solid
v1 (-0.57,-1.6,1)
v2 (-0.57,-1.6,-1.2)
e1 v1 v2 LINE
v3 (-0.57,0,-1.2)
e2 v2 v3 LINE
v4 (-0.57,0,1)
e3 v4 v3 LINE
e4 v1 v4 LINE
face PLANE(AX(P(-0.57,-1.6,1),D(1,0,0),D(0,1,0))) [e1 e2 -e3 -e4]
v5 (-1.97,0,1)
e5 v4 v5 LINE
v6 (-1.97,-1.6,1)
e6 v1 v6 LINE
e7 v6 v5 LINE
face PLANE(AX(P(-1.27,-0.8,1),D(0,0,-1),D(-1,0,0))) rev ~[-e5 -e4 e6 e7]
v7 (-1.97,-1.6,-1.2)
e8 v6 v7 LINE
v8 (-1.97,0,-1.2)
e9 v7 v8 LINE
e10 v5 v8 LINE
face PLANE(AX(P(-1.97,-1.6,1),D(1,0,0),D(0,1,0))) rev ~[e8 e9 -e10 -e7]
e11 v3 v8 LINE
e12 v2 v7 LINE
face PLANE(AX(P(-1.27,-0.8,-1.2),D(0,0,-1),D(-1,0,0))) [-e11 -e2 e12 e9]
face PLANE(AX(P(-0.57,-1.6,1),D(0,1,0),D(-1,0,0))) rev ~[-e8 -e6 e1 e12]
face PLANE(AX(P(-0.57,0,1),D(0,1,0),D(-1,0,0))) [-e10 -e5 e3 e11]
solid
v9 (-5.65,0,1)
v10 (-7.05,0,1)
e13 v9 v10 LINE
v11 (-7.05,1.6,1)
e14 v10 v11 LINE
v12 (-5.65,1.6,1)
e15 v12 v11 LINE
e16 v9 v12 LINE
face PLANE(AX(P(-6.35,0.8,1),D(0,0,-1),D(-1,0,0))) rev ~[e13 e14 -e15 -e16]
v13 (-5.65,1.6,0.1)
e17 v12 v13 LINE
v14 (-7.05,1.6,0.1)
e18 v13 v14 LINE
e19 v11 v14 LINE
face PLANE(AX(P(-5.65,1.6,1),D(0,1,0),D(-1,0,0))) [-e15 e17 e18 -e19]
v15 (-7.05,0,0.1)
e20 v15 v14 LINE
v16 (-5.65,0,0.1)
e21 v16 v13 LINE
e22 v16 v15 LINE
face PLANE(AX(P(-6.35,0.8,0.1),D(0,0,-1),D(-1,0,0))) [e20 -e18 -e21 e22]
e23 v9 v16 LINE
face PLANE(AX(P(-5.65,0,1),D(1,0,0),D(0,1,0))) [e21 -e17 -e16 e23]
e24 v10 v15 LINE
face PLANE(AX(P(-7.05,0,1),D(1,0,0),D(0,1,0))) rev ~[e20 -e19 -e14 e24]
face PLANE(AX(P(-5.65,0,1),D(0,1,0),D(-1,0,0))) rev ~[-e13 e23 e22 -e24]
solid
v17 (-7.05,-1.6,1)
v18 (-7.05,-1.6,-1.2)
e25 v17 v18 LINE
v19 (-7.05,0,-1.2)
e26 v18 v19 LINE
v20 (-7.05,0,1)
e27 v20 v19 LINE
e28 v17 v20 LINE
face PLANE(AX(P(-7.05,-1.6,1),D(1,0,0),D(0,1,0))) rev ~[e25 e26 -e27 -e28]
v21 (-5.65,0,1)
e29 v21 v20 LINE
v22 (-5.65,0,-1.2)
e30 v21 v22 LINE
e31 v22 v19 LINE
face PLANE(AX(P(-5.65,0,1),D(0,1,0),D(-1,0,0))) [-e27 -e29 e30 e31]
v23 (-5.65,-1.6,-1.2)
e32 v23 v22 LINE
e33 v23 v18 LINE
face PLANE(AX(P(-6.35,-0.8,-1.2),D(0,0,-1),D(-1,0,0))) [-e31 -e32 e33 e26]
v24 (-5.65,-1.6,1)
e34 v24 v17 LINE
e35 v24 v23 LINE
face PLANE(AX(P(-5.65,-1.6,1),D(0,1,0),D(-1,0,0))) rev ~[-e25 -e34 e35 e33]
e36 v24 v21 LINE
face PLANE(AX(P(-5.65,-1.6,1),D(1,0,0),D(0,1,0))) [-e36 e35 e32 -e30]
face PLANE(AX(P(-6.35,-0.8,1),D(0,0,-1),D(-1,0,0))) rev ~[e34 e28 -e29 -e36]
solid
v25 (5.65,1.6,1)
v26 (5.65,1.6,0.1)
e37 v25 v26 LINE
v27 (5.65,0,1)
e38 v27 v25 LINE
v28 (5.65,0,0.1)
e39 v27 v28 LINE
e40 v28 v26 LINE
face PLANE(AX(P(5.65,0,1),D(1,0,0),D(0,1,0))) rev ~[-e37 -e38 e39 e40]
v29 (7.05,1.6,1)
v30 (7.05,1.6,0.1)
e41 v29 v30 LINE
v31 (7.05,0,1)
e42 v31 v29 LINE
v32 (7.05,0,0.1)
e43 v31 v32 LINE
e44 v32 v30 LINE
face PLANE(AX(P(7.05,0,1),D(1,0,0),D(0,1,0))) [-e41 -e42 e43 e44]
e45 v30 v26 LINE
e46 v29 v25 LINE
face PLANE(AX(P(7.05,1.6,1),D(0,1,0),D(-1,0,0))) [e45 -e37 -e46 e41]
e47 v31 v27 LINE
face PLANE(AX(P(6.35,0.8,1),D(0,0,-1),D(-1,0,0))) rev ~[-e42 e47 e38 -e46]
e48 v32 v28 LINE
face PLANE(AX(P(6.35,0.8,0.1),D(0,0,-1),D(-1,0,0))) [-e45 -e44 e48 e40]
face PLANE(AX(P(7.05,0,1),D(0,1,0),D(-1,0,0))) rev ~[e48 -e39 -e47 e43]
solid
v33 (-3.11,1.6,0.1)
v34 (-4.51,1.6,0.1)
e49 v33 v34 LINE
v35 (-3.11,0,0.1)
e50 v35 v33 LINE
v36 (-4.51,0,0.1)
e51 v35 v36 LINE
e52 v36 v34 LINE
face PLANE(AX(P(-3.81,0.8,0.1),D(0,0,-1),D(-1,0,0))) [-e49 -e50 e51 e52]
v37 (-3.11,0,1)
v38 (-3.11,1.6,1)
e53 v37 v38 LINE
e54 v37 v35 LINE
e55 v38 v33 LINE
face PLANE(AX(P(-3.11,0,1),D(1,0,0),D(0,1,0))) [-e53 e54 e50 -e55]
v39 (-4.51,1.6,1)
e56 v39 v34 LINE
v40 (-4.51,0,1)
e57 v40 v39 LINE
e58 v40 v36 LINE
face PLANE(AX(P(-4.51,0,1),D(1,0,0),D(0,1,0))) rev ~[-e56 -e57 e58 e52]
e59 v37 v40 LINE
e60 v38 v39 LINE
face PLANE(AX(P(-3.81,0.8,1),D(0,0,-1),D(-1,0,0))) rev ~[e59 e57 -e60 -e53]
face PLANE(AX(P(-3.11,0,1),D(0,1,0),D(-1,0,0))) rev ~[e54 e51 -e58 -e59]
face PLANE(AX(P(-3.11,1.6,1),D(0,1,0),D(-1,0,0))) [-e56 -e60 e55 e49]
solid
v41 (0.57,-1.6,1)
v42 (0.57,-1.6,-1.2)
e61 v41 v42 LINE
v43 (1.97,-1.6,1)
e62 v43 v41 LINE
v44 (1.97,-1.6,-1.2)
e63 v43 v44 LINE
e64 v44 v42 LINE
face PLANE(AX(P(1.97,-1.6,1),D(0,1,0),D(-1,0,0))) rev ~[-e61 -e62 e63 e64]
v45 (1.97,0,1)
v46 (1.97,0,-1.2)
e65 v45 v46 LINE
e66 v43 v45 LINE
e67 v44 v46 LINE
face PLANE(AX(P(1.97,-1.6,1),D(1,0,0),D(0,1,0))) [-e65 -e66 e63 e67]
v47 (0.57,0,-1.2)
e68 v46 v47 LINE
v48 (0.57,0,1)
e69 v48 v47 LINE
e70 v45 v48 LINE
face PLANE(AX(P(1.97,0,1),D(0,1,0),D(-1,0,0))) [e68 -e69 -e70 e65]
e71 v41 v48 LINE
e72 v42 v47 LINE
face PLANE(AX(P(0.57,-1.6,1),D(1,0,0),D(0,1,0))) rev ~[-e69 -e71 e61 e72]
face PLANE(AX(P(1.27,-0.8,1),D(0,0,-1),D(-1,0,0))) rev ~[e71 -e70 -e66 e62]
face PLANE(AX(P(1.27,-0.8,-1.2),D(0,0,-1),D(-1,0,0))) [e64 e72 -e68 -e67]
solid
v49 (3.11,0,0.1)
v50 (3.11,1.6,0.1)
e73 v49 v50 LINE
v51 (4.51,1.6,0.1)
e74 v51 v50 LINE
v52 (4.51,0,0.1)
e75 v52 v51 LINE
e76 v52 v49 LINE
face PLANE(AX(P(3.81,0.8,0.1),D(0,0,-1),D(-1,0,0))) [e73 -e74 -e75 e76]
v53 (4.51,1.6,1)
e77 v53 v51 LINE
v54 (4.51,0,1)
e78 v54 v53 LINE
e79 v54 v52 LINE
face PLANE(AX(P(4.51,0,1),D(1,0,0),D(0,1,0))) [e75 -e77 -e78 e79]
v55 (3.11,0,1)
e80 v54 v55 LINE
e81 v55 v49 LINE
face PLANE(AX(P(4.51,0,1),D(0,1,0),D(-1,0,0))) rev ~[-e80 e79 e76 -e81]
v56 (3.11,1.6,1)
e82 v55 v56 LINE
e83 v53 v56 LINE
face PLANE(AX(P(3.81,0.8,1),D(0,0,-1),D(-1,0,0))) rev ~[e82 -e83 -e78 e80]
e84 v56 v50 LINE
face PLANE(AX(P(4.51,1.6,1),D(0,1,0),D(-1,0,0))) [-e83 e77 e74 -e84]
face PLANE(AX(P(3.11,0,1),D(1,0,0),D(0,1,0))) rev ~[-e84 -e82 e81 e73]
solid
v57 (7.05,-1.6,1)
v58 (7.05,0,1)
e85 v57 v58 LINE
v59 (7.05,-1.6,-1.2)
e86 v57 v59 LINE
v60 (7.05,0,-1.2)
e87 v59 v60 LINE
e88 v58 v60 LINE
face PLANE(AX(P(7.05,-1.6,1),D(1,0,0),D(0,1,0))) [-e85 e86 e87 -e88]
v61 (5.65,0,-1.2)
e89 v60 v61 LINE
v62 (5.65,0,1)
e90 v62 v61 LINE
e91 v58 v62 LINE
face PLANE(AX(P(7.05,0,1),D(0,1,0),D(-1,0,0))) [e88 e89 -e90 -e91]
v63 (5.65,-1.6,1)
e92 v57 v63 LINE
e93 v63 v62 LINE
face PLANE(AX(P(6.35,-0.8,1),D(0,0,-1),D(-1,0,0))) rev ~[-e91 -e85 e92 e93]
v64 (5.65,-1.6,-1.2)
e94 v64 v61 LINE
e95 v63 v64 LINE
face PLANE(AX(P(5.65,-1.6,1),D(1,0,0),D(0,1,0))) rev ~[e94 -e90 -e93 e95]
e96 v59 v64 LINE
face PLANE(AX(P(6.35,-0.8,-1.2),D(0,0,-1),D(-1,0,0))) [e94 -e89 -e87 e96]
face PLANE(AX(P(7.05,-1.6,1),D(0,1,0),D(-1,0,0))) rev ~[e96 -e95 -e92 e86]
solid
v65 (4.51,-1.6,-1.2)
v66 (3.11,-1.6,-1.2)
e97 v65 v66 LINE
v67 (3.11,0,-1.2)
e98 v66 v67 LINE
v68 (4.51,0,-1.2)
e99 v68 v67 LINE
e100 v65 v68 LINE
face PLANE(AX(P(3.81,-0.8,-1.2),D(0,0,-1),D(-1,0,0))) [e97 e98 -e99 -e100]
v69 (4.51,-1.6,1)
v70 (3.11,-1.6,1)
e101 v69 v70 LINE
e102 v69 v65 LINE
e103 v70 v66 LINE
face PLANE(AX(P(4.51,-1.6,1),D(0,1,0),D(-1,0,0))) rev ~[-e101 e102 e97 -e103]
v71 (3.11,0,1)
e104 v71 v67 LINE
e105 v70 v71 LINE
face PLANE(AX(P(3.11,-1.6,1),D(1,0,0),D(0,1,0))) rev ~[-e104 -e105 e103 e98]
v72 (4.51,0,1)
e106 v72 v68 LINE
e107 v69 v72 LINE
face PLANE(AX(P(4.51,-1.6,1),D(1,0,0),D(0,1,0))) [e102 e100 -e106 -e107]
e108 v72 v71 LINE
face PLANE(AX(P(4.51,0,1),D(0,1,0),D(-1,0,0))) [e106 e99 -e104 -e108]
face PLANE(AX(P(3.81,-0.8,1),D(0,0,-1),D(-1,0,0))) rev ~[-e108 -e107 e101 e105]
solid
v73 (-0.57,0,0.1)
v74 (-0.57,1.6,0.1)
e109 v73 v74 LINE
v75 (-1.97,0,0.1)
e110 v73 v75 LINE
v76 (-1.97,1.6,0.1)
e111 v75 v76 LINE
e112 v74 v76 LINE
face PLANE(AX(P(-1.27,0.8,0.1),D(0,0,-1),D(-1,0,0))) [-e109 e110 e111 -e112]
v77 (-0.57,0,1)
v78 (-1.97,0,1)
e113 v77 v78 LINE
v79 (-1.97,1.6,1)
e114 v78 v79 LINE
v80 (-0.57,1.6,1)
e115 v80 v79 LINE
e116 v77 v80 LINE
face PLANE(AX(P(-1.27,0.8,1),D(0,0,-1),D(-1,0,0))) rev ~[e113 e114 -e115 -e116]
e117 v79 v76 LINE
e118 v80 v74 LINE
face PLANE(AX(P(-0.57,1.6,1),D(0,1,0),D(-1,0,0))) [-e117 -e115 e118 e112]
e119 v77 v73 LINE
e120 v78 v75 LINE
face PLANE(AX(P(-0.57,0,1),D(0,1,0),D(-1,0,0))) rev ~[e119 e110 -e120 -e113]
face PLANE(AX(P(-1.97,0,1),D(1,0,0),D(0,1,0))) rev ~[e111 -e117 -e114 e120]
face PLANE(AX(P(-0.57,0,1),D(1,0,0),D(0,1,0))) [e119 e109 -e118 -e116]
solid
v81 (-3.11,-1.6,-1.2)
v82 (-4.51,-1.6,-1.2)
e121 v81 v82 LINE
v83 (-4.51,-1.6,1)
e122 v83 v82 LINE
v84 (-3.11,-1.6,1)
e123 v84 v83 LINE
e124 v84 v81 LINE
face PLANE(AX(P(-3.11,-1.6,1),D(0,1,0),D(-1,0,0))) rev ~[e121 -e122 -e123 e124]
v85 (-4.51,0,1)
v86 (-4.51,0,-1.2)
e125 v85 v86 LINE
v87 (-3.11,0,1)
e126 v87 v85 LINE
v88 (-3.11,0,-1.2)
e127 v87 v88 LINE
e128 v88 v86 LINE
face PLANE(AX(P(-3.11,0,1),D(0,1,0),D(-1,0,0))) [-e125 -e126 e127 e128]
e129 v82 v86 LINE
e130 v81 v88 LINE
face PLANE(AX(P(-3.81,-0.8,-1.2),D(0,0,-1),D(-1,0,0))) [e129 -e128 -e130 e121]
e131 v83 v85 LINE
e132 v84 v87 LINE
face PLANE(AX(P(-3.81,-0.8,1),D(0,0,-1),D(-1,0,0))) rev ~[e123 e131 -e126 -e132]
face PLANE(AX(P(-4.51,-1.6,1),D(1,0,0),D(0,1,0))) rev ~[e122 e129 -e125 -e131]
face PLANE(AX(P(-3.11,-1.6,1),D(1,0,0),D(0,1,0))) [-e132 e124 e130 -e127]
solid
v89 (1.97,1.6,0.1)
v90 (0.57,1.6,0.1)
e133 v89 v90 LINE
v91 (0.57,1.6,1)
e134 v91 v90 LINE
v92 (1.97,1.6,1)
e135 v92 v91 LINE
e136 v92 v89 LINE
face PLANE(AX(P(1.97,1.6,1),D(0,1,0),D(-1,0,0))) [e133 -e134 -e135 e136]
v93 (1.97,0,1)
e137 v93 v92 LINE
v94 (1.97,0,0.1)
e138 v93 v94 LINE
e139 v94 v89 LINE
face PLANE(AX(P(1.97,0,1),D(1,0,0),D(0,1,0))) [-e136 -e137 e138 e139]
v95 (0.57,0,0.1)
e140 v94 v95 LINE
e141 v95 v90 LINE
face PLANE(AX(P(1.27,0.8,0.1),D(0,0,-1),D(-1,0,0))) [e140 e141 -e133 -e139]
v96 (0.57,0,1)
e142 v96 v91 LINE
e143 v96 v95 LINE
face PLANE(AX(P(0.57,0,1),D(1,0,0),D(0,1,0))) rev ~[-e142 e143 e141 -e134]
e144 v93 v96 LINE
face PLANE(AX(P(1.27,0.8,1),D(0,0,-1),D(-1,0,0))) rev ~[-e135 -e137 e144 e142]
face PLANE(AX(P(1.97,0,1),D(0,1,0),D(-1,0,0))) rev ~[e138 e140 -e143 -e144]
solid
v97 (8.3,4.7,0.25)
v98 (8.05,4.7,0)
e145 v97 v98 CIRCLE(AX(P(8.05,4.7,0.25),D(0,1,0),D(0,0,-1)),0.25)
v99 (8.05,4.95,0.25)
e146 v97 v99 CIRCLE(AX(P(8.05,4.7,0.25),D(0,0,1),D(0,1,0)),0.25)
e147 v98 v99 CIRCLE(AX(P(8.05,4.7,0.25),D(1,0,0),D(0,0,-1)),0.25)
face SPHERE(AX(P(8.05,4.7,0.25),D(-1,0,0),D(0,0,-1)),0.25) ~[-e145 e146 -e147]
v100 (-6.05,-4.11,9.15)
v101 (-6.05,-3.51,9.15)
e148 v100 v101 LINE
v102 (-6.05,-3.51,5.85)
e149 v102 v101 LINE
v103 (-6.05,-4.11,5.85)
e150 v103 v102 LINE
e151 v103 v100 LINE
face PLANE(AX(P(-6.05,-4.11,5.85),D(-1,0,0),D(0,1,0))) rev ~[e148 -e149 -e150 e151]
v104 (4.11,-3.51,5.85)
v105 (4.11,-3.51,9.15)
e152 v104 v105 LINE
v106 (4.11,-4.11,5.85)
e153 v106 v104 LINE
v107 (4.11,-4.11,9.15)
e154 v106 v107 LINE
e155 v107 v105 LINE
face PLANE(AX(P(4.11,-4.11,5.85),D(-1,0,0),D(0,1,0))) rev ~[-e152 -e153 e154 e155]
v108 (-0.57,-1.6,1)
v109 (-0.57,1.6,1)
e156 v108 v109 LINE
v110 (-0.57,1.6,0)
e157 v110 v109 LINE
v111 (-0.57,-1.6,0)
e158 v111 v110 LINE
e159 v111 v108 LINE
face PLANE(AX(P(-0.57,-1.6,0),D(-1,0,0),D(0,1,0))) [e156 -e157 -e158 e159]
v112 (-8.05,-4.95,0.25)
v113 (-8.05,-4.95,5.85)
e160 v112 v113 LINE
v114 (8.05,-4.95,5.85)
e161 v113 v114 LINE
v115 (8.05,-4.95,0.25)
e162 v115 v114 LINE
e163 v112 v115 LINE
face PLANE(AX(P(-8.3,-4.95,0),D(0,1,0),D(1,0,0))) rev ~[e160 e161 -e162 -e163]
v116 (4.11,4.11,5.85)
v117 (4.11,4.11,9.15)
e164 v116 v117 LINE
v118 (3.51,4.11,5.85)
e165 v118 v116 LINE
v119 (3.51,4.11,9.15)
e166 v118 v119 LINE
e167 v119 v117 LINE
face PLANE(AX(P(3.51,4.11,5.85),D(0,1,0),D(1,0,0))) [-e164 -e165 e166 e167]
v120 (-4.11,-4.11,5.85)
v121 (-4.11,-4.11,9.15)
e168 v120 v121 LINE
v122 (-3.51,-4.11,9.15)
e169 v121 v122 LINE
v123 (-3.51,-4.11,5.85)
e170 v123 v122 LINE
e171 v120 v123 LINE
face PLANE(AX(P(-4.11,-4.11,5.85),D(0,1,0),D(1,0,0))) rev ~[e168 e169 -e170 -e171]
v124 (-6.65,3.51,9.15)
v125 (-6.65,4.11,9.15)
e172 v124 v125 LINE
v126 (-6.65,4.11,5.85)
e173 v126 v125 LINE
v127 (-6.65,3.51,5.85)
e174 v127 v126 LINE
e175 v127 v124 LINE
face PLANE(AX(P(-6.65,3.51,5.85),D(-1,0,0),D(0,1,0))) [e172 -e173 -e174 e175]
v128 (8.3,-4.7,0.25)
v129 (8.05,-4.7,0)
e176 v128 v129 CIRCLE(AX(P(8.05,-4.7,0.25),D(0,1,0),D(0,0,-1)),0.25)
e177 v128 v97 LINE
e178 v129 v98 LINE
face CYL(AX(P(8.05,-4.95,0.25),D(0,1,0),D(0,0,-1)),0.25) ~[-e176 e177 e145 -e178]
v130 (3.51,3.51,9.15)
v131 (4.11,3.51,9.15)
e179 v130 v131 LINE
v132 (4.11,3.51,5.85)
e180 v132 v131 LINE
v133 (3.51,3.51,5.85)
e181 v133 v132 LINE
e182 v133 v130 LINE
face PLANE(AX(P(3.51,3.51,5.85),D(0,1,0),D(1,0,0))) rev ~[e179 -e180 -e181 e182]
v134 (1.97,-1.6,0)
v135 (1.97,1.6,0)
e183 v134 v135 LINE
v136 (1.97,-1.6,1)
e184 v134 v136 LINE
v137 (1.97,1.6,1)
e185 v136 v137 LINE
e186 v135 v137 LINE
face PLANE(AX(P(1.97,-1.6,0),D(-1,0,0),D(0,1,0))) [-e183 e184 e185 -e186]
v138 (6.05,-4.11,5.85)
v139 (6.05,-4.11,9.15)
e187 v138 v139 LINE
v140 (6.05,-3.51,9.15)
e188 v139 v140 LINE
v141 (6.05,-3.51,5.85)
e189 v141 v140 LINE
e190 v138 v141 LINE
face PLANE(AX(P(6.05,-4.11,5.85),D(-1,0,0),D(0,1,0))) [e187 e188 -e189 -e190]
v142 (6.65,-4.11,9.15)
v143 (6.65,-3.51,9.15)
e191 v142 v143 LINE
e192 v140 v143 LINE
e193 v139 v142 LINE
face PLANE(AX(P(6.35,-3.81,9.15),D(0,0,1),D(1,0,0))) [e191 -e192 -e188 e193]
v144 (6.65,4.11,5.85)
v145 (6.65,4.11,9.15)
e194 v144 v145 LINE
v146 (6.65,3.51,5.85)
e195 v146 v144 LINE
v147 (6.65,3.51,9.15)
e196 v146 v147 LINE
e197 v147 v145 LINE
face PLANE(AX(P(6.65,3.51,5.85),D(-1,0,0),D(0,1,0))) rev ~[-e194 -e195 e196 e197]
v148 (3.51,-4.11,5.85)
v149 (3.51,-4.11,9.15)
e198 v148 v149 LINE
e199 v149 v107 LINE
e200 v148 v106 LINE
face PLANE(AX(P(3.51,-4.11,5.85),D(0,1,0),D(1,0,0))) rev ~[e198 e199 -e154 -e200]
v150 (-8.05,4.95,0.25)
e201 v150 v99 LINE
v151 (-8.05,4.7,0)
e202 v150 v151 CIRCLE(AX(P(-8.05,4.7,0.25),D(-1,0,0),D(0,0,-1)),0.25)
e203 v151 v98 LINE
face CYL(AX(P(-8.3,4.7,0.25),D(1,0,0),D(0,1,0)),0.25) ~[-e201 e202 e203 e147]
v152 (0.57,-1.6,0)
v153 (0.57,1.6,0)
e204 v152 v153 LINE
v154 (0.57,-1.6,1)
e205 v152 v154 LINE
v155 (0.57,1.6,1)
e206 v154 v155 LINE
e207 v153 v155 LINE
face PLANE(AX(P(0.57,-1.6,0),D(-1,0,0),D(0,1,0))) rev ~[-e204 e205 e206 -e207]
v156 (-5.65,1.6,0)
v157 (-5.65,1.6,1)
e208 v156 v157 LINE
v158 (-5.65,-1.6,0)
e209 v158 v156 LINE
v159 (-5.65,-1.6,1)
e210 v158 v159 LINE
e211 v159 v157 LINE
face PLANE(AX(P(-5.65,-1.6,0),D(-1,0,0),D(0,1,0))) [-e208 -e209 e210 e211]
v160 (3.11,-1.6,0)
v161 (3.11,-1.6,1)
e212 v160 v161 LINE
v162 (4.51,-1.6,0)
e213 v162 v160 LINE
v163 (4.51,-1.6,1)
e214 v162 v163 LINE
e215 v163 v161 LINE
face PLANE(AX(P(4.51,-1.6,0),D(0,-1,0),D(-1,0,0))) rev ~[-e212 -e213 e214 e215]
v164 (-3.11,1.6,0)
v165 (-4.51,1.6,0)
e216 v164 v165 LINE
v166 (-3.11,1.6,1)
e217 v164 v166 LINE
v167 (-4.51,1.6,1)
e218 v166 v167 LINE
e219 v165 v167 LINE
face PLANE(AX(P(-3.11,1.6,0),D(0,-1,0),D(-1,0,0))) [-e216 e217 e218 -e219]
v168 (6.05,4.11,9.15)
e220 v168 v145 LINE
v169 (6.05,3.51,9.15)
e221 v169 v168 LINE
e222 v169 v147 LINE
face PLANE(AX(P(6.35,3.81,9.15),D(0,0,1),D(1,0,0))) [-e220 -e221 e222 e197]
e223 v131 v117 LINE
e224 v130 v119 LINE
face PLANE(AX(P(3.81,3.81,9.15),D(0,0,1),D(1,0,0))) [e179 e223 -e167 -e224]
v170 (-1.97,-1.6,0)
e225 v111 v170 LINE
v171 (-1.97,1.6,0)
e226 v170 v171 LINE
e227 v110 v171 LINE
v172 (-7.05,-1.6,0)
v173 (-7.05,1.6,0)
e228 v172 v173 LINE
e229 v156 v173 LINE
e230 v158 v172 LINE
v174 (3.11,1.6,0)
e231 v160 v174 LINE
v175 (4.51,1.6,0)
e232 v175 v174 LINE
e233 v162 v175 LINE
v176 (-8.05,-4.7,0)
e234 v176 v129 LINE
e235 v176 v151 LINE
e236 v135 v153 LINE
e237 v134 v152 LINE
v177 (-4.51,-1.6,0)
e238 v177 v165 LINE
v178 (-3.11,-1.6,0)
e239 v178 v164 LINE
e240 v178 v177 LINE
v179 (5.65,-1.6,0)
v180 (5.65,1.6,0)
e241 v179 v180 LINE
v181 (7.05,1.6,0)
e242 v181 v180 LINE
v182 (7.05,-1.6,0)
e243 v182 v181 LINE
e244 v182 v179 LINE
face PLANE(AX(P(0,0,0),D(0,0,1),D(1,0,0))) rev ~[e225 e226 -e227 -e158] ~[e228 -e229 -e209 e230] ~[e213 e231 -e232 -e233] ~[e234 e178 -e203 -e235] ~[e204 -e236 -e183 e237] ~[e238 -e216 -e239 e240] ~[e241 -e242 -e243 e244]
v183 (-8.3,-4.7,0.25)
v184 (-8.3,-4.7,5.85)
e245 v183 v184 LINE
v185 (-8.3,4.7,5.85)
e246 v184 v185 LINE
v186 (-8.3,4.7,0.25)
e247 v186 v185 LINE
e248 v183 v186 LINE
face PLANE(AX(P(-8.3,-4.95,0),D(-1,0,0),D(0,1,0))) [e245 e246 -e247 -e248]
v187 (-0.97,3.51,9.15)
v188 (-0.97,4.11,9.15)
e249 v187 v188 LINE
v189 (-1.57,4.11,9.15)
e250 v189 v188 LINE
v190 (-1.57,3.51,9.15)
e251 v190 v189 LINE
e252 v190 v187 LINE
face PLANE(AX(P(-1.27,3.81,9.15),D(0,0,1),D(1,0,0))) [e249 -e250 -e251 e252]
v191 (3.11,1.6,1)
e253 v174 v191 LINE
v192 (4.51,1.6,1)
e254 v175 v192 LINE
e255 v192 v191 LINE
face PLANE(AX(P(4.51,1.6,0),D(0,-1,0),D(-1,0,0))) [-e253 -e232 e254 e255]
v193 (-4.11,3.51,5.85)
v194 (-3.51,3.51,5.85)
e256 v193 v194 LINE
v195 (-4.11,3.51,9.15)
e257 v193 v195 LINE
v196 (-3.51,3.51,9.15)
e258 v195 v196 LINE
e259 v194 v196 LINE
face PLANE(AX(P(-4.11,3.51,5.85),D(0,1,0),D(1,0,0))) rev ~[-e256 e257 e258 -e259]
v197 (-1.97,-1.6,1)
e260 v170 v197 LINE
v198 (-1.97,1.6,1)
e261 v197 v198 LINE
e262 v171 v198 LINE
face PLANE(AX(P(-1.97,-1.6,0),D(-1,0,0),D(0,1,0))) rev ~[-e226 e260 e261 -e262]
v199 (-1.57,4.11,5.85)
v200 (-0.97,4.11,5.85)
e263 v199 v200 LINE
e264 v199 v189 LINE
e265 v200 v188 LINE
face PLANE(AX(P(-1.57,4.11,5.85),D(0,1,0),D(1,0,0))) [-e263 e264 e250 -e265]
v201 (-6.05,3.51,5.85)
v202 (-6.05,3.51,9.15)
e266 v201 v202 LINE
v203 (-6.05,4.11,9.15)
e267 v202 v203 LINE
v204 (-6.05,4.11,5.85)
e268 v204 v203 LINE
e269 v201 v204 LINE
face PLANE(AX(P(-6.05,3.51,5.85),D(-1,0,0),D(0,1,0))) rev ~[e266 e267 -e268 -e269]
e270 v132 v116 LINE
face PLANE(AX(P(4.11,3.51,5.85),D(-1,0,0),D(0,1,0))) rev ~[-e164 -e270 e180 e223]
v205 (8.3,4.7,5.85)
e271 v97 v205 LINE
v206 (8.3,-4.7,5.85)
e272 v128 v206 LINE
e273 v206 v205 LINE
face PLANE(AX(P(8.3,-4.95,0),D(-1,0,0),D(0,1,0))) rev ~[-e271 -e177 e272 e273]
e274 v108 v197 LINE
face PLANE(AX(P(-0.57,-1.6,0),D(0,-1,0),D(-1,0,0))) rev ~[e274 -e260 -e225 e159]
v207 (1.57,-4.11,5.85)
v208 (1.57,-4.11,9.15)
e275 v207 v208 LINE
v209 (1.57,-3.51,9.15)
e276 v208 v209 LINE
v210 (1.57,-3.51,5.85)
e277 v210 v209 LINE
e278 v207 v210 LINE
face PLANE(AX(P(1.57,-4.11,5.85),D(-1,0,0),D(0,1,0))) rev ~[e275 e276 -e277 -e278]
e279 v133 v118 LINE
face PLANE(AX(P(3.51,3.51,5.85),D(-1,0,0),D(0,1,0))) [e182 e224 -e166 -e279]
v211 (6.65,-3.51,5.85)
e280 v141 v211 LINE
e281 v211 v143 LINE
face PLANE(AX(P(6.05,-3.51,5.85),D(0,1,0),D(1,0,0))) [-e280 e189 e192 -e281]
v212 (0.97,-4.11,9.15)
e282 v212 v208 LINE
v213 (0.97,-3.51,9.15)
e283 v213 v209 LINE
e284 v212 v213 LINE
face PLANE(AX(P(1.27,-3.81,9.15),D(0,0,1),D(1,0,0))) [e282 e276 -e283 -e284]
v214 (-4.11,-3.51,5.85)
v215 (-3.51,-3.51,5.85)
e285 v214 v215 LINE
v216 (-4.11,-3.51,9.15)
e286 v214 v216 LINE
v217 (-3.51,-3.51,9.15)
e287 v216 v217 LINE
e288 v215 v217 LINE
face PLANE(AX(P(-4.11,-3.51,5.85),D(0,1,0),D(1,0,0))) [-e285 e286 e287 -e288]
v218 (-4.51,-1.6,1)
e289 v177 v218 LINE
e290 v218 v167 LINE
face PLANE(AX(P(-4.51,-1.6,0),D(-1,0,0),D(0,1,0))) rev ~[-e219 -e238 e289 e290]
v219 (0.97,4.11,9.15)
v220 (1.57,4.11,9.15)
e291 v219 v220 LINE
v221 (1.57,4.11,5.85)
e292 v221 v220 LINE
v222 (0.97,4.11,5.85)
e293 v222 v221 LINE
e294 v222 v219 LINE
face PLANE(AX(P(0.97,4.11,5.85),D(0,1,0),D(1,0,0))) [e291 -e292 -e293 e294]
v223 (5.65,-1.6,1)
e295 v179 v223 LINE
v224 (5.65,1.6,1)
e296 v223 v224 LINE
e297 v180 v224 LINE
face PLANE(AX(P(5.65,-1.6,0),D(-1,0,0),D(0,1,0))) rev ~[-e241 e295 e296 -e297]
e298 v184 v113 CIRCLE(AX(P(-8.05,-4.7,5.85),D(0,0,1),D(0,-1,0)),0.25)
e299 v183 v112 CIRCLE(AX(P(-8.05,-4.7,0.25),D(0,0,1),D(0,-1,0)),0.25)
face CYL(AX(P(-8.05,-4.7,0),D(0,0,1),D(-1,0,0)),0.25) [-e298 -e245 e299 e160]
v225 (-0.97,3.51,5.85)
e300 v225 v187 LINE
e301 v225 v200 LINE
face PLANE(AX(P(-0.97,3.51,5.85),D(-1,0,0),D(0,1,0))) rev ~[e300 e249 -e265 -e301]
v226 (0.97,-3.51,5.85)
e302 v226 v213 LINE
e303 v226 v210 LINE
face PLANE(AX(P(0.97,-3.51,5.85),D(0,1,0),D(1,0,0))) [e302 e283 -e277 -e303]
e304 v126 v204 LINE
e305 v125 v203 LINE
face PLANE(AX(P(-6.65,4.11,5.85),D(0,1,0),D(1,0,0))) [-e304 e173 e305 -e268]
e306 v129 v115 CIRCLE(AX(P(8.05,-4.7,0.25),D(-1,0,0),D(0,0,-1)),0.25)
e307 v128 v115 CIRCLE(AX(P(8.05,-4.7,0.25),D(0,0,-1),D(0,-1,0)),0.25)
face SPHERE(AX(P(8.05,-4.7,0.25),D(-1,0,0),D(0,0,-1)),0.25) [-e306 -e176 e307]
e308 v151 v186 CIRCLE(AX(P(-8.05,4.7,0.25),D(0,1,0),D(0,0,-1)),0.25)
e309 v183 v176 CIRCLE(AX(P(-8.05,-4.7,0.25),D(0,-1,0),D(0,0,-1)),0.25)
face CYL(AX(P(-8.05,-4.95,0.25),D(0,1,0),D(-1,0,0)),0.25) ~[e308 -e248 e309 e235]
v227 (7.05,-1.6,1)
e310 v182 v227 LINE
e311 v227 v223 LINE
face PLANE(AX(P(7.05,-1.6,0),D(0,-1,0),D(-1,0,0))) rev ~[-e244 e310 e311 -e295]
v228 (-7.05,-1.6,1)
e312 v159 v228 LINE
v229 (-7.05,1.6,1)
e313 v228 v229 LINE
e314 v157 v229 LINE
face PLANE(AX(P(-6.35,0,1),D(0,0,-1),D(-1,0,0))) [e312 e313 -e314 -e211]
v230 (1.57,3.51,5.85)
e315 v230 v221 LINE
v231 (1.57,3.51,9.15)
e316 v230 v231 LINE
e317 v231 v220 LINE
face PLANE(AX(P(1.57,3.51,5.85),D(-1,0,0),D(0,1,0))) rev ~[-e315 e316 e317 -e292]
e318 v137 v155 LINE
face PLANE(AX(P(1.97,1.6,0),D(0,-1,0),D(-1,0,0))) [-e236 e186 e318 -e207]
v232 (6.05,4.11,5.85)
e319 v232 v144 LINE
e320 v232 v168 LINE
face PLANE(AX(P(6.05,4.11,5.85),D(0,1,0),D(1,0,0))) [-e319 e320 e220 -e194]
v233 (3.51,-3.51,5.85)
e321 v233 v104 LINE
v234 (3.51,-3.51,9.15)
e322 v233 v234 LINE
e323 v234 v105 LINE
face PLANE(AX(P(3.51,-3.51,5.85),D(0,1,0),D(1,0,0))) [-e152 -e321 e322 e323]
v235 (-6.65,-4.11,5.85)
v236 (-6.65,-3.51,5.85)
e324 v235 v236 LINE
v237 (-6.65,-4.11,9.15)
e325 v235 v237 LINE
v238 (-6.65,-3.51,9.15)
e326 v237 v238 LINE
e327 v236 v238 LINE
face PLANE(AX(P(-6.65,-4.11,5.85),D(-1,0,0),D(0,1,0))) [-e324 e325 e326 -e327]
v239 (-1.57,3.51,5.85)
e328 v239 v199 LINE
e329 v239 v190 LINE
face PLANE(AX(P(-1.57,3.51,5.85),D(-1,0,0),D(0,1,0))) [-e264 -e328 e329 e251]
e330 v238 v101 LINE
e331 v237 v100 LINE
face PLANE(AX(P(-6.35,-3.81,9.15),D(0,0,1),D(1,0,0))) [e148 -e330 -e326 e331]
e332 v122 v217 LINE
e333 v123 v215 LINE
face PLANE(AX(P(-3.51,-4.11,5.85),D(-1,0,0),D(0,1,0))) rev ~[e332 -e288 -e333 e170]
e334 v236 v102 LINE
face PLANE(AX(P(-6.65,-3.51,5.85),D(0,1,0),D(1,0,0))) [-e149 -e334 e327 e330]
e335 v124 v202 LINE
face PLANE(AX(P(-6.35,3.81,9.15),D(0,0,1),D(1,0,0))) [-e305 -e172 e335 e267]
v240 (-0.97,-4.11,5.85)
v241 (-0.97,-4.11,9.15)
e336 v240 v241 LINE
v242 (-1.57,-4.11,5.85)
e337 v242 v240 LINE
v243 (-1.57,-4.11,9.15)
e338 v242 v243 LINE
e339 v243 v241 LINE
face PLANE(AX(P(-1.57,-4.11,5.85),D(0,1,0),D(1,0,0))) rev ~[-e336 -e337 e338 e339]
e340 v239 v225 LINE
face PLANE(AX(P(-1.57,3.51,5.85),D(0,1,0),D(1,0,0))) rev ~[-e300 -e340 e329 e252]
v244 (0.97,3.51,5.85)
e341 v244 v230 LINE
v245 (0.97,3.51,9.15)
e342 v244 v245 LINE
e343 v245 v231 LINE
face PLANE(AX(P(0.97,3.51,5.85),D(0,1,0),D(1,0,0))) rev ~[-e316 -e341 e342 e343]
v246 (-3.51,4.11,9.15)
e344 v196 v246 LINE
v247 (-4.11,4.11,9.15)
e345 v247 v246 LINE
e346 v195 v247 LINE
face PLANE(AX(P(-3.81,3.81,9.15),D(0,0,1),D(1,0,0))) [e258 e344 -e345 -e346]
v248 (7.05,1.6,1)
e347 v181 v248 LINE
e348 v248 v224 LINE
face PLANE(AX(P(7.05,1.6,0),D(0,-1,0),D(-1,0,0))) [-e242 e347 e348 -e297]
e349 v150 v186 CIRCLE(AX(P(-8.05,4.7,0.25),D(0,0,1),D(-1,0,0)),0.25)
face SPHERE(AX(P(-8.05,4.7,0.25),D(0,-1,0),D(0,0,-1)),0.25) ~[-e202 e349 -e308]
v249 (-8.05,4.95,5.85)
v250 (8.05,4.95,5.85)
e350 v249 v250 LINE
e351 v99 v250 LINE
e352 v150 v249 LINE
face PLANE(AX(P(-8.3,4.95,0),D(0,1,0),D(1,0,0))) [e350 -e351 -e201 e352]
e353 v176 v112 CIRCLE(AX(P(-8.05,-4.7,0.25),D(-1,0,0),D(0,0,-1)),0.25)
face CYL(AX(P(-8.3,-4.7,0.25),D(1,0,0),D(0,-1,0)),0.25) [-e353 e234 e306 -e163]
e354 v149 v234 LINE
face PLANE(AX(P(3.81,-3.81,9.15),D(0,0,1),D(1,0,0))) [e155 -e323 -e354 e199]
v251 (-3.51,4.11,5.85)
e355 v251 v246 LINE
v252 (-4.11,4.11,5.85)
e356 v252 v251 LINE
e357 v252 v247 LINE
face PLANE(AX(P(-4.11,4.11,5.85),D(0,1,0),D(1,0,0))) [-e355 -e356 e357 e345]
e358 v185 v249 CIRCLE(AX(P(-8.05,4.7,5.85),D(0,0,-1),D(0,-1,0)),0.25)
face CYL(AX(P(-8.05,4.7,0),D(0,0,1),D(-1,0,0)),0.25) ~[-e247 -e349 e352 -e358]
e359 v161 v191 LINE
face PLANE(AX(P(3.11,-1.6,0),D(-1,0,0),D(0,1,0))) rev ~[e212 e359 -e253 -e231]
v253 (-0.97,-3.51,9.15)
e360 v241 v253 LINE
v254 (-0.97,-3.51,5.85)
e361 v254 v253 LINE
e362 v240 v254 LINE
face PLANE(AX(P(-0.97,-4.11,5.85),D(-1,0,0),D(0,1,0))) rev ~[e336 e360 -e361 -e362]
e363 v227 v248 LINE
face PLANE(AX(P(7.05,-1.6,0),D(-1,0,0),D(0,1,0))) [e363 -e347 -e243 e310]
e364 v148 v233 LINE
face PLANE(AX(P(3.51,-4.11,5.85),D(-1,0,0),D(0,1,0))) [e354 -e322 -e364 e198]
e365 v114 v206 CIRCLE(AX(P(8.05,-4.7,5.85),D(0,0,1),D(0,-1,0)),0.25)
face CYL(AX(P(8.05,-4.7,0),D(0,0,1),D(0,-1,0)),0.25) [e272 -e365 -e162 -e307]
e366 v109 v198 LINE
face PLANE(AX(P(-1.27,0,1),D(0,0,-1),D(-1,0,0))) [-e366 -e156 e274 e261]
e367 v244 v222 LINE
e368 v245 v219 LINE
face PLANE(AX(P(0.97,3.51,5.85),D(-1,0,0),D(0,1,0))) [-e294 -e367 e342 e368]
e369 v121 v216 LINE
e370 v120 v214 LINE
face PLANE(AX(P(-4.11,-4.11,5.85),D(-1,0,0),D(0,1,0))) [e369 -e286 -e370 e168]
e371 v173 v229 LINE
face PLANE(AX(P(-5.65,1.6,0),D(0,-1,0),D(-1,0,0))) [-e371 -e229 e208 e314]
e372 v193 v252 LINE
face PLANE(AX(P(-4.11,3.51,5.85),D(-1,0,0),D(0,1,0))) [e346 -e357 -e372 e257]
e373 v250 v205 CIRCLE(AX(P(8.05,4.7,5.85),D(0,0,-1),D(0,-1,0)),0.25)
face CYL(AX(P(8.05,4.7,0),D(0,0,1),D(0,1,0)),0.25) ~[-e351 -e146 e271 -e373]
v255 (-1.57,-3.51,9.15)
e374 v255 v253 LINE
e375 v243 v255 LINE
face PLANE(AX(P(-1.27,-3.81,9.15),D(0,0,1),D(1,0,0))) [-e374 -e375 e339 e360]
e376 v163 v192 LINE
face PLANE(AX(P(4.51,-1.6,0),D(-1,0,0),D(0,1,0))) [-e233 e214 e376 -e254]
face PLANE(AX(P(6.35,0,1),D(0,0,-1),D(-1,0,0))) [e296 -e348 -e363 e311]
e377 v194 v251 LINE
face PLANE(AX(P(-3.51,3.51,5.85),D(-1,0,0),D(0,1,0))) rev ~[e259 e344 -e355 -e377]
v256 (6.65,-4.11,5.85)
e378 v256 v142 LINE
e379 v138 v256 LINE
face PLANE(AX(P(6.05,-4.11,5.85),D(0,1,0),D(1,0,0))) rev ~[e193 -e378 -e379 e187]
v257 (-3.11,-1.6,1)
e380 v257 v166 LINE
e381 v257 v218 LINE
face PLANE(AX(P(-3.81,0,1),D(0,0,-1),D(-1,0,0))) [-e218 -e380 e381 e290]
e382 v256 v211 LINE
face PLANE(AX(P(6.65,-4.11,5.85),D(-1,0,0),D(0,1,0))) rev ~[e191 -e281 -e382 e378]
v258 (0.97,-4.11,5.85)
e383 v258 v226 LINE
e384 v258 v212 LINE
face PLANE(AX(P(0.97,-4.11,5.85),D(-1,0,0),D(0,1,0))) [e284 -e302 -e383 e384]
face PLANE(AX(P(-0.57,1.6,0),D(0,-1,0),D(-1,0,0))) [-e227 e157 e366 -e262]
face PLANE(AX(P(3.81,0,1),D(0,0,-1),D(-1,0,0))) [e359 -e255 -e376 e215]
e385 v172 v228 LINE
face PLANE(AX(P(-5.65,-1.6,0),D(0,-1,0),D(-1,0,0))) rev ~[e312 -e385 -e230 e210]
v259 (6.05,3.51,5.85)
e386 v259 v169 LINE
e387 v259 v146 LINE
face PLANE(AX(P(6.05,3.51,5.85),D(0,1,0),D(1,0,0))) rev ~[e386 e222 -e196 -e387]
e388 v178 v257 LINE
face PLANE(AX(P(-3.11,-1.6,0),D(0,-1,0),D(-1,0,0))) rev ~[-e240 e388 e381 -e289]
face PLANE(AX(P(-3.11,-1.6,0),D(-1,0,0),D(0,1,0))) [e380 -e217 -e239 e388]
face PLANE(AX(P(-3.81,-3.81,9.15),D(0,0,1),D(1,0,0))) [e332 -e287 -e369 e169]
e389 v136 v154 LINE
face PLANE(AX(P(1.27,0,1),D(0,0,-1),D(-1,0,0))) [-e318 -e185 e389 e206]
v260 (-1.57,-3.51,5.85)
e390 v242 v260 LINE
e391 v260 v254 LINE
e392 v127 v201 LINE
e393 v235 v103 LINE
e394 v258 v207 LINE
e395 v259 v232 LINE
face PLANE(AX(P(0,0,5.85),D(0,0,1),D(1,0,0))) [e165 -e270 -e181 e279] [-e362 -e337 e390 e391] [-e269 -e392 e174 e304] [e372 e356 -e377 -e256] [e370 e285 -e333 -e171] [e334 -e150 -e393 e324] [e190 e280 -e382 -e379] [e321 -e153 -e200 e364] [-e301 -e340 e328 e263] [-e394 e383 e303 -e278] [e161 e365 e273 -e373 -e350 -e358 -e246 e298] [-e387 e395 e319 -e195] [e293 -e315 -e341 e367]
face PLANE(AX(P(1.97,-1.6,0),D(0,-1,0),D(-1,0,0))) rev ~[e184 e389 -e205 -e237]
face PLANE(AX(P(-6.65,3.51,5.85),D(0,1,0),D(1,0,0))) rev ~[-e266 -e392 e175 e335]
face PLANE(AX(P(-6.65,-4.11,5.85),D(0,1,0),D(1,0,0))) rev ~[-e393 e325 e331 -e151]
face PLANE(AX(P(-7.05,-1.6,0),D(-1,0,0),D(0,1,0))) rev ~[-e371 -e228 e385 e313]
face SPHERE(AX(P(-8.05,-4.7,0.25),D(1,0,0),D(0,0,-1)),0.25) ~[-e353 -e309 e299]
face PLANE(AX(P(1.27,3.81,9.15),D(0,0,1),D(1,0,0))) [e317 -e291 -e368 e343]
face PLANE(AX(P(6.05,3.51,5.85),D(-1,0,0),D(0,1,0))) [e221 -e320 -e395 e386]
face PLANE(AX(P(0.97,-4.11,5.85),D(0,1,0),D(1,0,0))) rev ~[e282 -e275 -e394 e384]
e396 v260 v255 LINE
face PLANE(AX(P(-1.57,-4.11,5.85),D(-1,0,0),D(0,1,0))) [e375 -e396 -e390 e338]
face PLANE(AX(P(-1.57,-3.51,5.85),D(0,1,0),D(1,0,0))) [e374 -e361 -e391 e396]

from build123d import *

# Parameters (mm, degrees)
IZIM1_W                       = 16.6
IZIM1_H                       = 9.9
Y_KSEKLIK_EKSTR_ZYON1_DEPTH   = 5.85
IZIM2_W                       = 1.4
IZIM2_H                       = 3.2
KES_EKSTR_ZYON1_DEPTH         = 1
IZIM3_W                       = 1.4
IZIM3_H                       = 1.6
Y_KSEKLIK_EKSTR_ZYON2_DEPTH   = 2.2
Y_KSEKLIK_EKSTR_ZYON2_2_DEPTH = 2.2
Y_KSEKLIK_EKSTR_ZYON2_3_DEPTH = 2.2
Y_KSEKLIK_EKSTR_ZYON2_4_DEPTH = 2.2
Y_KSEKLIK_EKSTR_ZYON2_5_DEPTH = 2.2
Y_KSEKLIK_EKSTR_ZYON2_6_DEPTH = 2.2
IZIM4_W                       = 1.4
IZIM4_H                       = 1.6
Y_KSEKLIK_EKSTR_ZYON3_DEPTH   = 0.9
Y_KSEKLIK_EKSTR_ZYON3_2_DEPTH = 0.9
Y_KSEKLIK_EKSTR_ZYON3_3_DEPTH = 0.9
Y_KSEKLIK_EKSTR_ZYON3_4_DEPTH = 0.9
Y_KSEKLIK_EKSTR_ZYON3_5_DEPTH = 0.9
Y_KSEKLIK_EKSTR_ZYON3_6_DEPTH = 0.9
RADYUS1_R                     = 0.25
IZIM5_W                       = 0.6
IZIM5_H                       = 0.6
Y_KSEKLIK_EKSTR_ZYON4_DEPTH   = 3.3


with BuildPart() as part:
    # Çizim1 → Yükseklik-Ekstrüzyon1 (new body)
    with BuildSketch(Plane.XY):
        Rectangle(IZIM1_W, IZIM1_H)
    extrude(amount=Y_KSEKLIK_EKSTR_ZYON1_DEPTH)

    # Çizim2 → Kes-Ekstrüzyon1 (cut)
    with BuildSketch(Plane(origin=(0, 0, 0), x_dir=(-1, 0, 0), z_dir=(0, 0, -1))):
        with Locations((-6.35, 0)):
            Rectangle(IZIM2_W, IZIM2_H)
        with Locations((-3.81, 0)):
            Rectangle(IZIM2_W, IZIM2_H)
        with Locations((-1.27, 0)):
            Rectangle(IZIM2_W, IZIM2_H)
        with Locations((1.27, 0)):
            Rectangle(IZIM2_W, IZIM2_H)
        with Locations((3.81, 0)):
            Rectangle(IZIM2_W, IZIM2_H)
        with Locations((6.35, 0)):
            Rectangle(IZIM2_W, IZIM2_H)
    extrude(amount=-KES_EKSTR_ZYON1_DEPTH, mode=Mode.SUBTRACT)

    # Radyus1
    radyus1_edges = [part.edges().sort_by_distance(p)[0] for p in [
        (0, -4.95, 0),
        (-8.3, 0, 0),
        (0, 4.95, 0),
        (8.3, 0, 0),
        (8.3, -4.95, 2.925),
        (-8.3, -4.95, 2.925),
        (-8.3, 4.95, 2.925),
        (8.3, 4.95, 2.925),
    ]]
    fillet(radyus1_edges, radius=RADYUS1_R)

    # Çizim5 → Yükseklik-Ekstrüzyon4 (add)
    with BuildSketch(Plane.XY.offset(5.85)):
        with Locations((-6.35, -3.81)):
            Rectangle(IZIM5_W, IZIM5_H)
        with Locations((-3.81, -3.81)):
            Rectangle(IZIM5_W, IZIM5_H)
        with Locations((-1.27, -3.81)):
            Rectangle(IZIM5_W, IZIM5_H)
        with Locations((1.27, -3.81)):
            Rectangle(IZIM5_W, IZIM5_H)
        with Locations((3.81, -3.81)):
            Rectangle(IZIM5_W, IZIM5_H)
        with Locations((6.35, -3.81)):
            Rectangle(IZIM5_W, IZIM5_H)
        with Locations((-6.35, 3.81)):
            Rectangle(IZIM5_W, IZIM5_H)
        with Locations((-3.81, 3.81)):
            Rectangle(IZIM5_W, IZIM5_H)
        with Locations((-1.27, 3.81)):
            Rectangle(IZIM5_W, IZIM5_H)
        with Locations((1.27, 3.81)):
            Rectangle(IZIM5_W, IZIM5_H)
        with Locations((3.81, 3.81)):
            Rectangle(IZIM5_W, IZIM5_H)
        with Locations((6.35, 3.81)):
            Rectangle(IZIM5_W, IZIM5_H)
    extrude(amount=Y_KSEKLIK_EKSTR_ZYON4_DEPTH)


with BuildPart() as body_2:
    # Çizim3 → Yükseklik-Ekstrüzyon2 (new body)
    with BuildSketch(Plane(origin=(0, 0, 1), x_dir=(-1, 0, 0), z_dir=(0, 0, -1))):
        with Locations((-6.35, -0.8)):
            Rectangle(IZIM3_W, IZIM3_H)
    extrude(amount=Y_KSEKLIK_EKSTR_ZYON2_DEPTH)


with BuildPart() as body_3:
    # Çizim3 → Y_kseklik-Ekstr_zyon2 2 (new body)
    with BuildSketch(Plane(origin=(0, 0, 1), x_dir=(-1, 0, 0), z_dir=(0, 0, -1))):
        with Locations((-3.81, -0.8)):
            Rectangle(IZIM3_W, IZIM3_H)
    extrude(amount=Y_KSEKLIK_EKSTR_ZYON2_2_DEPTH)


with BuildPart() as body_4:
    # Çizim3 → Y_kseklik-Ekstr_zyon2 3 (new body)
    with BuildSketch(Plane(origin=(0, 0, 1), x_dir=(-1, 0, 0), z_dir=(0, 0, -1))):
        with Locations((-1.27, -0.8)):
            Rectangle(IZIM3_W, IZIM3_H)
    extrude(amount=Y_KSEKLIK_EKSTR_ZYON2_3_DEPTH)


with BuildPart() as body_5:
    # Çizim3 → Y_kseklik-Ekstr_zyon2 4 (new body)
    with BuildSketch(Plane(origin=(0, 0, 1), x_dir=(-1, 0, 0), z_dir=(0, 0, -1))):
        with Locations((1.27, -0.8)):
            Rectangle(IZIM3_W, IZIM3_H)
    extrude(amount=Y_KSEKLIK_EKSTR_ZYON2_4_DEPTH)


with BuildPart() as body_6:
    # Çizim3 → Y_kseklik-Ekstr_zyon2 5 (new body)
    with BuildSketch(Plane(origin=(0, 0, 1), x_dir=(-1, 0, 0), z_dir=(0, 0, -1))):
        with Locations((3.81, -0.8)):
            Rectangle(IZIM3_W, IZIM3_H)
    extrude(amount=Y_KSEKLIK_EKSTR_ZYON2_5_DEPTH)


with BuildPart() as body_7:
    # Çizim3 → Y_kseklik-Ekstr_zyon2 6 (new body)
    with BuildSketch(Plane(origin=(0, 0, 1), x_dir=(-1, 0, 0), z_dir=(0, 0, -1))):
        with Locations((6.35, -0.8)):
            Rectangle(IZIM3_W, IZIM3_H)
    extrude(amount=Y_KSEKLIK_EKSTR_ZYON2_6_DEPTH)


with BuildPart() as body_8:
    # Çizim4 → Yükseklik-Ekstrüzyon3 (new body)
    with BuildSketch(Plane(origin=(0, 0, 1), x_dir=(-1, 0, 0), z_dir=(0, 0, -1))):
        with Locations((-6.35, 0.8)):
            Rectangle(IZIM4_W, IZIM4_H)
    extrude(amount=Y_KSEKLIK_EKSTR_ZYON3_DEPTH)


with BuildPart() as body_9:
    # Çizim4 → Y_kseklik-Ekstr_zyon3 2 (new body)
    with BuildSketch(Plane(origin=(0, 0, 1), x_dir=(-1, 0, 0), z_dir=(0, 0, -1))):
        with Locations((-3.81, 0.8)):
            Rectangle(IZIM4_W, IZIM4_H)
    extrude(amount=Y_KSEKLIK_EKSTR_ZYON3_2_DEPTH)


with BuildPart() as body_10:
    # Çizim4 → Y_kseklik-Ekstr_zyon3 3 (new body)
    with BuildSketch(Plane(origin=(0, 0, 1), x_dir=(-1, 0, 0), z_dir=(0, 0, -1))):
        with Locations((-1.27, 0.8)):
            Rectangle(IZIM4_W, IZIM4_H)
    extrude(amount=Y_KSEKLIK_EKSTR_ZYON3_3_DEPTH)


with BuildPart() as body_11:
    # Çizim4 → Y_kseklik-Ekstr_zyon3 4 (new body)
    with BuildSketch(Plane(origin=(0, 0, 1), x_dir=(-1, 0, 0), z_dir=(0, 0, -1))):
        with Locations((1.27, 0.8)):
            Rectangle(IZIM4_W, IZIM4_H)
    extrude(amount=Y_KSEKLIK_EKSTR_ZYON3_4_DEPTH)


with BuildPart() as body_12:
    # Çizim4 → Y_kseklik-Ekstr_zyon3 5 (new body)
    with BuildSketch(Plane(origin=(0, 0, 1), x_dir=(-1, 0, 0), z_dir=(0, 0, -1))):
        with Locations((3.81, 0.8)):
            Rectangle(IZIM4_W, IZIM4_H)
    extrude(amount=Y_KSEKLIK_EKSTR_ZYON3_5_DEPTH)


with BuildPart() as body_13:
    # Çizim4 → Y_kseklik-Ekstr_zyon3 6 (new body)
    with BuildSketch(Plane(origin=(0, 0, 1), x_dir=(-1, 0, 0), z_dir=(0, 0, -1))):
        with Locations((6.35, 0.8)):
            Rectangle(IZIM4_W, IZIM4_H)
    extrude(amount=Y_KSEKLIK_EKSTR_ZYON3_6_DEPTH)


solid = Compound([part.part, body_2.part, body_3.part, body_4.part, body_5.part, body_6.part, body_7.part, body_8.part, body_9.part, body_10.part, body_11.part, body_12.part, body_13.part])
